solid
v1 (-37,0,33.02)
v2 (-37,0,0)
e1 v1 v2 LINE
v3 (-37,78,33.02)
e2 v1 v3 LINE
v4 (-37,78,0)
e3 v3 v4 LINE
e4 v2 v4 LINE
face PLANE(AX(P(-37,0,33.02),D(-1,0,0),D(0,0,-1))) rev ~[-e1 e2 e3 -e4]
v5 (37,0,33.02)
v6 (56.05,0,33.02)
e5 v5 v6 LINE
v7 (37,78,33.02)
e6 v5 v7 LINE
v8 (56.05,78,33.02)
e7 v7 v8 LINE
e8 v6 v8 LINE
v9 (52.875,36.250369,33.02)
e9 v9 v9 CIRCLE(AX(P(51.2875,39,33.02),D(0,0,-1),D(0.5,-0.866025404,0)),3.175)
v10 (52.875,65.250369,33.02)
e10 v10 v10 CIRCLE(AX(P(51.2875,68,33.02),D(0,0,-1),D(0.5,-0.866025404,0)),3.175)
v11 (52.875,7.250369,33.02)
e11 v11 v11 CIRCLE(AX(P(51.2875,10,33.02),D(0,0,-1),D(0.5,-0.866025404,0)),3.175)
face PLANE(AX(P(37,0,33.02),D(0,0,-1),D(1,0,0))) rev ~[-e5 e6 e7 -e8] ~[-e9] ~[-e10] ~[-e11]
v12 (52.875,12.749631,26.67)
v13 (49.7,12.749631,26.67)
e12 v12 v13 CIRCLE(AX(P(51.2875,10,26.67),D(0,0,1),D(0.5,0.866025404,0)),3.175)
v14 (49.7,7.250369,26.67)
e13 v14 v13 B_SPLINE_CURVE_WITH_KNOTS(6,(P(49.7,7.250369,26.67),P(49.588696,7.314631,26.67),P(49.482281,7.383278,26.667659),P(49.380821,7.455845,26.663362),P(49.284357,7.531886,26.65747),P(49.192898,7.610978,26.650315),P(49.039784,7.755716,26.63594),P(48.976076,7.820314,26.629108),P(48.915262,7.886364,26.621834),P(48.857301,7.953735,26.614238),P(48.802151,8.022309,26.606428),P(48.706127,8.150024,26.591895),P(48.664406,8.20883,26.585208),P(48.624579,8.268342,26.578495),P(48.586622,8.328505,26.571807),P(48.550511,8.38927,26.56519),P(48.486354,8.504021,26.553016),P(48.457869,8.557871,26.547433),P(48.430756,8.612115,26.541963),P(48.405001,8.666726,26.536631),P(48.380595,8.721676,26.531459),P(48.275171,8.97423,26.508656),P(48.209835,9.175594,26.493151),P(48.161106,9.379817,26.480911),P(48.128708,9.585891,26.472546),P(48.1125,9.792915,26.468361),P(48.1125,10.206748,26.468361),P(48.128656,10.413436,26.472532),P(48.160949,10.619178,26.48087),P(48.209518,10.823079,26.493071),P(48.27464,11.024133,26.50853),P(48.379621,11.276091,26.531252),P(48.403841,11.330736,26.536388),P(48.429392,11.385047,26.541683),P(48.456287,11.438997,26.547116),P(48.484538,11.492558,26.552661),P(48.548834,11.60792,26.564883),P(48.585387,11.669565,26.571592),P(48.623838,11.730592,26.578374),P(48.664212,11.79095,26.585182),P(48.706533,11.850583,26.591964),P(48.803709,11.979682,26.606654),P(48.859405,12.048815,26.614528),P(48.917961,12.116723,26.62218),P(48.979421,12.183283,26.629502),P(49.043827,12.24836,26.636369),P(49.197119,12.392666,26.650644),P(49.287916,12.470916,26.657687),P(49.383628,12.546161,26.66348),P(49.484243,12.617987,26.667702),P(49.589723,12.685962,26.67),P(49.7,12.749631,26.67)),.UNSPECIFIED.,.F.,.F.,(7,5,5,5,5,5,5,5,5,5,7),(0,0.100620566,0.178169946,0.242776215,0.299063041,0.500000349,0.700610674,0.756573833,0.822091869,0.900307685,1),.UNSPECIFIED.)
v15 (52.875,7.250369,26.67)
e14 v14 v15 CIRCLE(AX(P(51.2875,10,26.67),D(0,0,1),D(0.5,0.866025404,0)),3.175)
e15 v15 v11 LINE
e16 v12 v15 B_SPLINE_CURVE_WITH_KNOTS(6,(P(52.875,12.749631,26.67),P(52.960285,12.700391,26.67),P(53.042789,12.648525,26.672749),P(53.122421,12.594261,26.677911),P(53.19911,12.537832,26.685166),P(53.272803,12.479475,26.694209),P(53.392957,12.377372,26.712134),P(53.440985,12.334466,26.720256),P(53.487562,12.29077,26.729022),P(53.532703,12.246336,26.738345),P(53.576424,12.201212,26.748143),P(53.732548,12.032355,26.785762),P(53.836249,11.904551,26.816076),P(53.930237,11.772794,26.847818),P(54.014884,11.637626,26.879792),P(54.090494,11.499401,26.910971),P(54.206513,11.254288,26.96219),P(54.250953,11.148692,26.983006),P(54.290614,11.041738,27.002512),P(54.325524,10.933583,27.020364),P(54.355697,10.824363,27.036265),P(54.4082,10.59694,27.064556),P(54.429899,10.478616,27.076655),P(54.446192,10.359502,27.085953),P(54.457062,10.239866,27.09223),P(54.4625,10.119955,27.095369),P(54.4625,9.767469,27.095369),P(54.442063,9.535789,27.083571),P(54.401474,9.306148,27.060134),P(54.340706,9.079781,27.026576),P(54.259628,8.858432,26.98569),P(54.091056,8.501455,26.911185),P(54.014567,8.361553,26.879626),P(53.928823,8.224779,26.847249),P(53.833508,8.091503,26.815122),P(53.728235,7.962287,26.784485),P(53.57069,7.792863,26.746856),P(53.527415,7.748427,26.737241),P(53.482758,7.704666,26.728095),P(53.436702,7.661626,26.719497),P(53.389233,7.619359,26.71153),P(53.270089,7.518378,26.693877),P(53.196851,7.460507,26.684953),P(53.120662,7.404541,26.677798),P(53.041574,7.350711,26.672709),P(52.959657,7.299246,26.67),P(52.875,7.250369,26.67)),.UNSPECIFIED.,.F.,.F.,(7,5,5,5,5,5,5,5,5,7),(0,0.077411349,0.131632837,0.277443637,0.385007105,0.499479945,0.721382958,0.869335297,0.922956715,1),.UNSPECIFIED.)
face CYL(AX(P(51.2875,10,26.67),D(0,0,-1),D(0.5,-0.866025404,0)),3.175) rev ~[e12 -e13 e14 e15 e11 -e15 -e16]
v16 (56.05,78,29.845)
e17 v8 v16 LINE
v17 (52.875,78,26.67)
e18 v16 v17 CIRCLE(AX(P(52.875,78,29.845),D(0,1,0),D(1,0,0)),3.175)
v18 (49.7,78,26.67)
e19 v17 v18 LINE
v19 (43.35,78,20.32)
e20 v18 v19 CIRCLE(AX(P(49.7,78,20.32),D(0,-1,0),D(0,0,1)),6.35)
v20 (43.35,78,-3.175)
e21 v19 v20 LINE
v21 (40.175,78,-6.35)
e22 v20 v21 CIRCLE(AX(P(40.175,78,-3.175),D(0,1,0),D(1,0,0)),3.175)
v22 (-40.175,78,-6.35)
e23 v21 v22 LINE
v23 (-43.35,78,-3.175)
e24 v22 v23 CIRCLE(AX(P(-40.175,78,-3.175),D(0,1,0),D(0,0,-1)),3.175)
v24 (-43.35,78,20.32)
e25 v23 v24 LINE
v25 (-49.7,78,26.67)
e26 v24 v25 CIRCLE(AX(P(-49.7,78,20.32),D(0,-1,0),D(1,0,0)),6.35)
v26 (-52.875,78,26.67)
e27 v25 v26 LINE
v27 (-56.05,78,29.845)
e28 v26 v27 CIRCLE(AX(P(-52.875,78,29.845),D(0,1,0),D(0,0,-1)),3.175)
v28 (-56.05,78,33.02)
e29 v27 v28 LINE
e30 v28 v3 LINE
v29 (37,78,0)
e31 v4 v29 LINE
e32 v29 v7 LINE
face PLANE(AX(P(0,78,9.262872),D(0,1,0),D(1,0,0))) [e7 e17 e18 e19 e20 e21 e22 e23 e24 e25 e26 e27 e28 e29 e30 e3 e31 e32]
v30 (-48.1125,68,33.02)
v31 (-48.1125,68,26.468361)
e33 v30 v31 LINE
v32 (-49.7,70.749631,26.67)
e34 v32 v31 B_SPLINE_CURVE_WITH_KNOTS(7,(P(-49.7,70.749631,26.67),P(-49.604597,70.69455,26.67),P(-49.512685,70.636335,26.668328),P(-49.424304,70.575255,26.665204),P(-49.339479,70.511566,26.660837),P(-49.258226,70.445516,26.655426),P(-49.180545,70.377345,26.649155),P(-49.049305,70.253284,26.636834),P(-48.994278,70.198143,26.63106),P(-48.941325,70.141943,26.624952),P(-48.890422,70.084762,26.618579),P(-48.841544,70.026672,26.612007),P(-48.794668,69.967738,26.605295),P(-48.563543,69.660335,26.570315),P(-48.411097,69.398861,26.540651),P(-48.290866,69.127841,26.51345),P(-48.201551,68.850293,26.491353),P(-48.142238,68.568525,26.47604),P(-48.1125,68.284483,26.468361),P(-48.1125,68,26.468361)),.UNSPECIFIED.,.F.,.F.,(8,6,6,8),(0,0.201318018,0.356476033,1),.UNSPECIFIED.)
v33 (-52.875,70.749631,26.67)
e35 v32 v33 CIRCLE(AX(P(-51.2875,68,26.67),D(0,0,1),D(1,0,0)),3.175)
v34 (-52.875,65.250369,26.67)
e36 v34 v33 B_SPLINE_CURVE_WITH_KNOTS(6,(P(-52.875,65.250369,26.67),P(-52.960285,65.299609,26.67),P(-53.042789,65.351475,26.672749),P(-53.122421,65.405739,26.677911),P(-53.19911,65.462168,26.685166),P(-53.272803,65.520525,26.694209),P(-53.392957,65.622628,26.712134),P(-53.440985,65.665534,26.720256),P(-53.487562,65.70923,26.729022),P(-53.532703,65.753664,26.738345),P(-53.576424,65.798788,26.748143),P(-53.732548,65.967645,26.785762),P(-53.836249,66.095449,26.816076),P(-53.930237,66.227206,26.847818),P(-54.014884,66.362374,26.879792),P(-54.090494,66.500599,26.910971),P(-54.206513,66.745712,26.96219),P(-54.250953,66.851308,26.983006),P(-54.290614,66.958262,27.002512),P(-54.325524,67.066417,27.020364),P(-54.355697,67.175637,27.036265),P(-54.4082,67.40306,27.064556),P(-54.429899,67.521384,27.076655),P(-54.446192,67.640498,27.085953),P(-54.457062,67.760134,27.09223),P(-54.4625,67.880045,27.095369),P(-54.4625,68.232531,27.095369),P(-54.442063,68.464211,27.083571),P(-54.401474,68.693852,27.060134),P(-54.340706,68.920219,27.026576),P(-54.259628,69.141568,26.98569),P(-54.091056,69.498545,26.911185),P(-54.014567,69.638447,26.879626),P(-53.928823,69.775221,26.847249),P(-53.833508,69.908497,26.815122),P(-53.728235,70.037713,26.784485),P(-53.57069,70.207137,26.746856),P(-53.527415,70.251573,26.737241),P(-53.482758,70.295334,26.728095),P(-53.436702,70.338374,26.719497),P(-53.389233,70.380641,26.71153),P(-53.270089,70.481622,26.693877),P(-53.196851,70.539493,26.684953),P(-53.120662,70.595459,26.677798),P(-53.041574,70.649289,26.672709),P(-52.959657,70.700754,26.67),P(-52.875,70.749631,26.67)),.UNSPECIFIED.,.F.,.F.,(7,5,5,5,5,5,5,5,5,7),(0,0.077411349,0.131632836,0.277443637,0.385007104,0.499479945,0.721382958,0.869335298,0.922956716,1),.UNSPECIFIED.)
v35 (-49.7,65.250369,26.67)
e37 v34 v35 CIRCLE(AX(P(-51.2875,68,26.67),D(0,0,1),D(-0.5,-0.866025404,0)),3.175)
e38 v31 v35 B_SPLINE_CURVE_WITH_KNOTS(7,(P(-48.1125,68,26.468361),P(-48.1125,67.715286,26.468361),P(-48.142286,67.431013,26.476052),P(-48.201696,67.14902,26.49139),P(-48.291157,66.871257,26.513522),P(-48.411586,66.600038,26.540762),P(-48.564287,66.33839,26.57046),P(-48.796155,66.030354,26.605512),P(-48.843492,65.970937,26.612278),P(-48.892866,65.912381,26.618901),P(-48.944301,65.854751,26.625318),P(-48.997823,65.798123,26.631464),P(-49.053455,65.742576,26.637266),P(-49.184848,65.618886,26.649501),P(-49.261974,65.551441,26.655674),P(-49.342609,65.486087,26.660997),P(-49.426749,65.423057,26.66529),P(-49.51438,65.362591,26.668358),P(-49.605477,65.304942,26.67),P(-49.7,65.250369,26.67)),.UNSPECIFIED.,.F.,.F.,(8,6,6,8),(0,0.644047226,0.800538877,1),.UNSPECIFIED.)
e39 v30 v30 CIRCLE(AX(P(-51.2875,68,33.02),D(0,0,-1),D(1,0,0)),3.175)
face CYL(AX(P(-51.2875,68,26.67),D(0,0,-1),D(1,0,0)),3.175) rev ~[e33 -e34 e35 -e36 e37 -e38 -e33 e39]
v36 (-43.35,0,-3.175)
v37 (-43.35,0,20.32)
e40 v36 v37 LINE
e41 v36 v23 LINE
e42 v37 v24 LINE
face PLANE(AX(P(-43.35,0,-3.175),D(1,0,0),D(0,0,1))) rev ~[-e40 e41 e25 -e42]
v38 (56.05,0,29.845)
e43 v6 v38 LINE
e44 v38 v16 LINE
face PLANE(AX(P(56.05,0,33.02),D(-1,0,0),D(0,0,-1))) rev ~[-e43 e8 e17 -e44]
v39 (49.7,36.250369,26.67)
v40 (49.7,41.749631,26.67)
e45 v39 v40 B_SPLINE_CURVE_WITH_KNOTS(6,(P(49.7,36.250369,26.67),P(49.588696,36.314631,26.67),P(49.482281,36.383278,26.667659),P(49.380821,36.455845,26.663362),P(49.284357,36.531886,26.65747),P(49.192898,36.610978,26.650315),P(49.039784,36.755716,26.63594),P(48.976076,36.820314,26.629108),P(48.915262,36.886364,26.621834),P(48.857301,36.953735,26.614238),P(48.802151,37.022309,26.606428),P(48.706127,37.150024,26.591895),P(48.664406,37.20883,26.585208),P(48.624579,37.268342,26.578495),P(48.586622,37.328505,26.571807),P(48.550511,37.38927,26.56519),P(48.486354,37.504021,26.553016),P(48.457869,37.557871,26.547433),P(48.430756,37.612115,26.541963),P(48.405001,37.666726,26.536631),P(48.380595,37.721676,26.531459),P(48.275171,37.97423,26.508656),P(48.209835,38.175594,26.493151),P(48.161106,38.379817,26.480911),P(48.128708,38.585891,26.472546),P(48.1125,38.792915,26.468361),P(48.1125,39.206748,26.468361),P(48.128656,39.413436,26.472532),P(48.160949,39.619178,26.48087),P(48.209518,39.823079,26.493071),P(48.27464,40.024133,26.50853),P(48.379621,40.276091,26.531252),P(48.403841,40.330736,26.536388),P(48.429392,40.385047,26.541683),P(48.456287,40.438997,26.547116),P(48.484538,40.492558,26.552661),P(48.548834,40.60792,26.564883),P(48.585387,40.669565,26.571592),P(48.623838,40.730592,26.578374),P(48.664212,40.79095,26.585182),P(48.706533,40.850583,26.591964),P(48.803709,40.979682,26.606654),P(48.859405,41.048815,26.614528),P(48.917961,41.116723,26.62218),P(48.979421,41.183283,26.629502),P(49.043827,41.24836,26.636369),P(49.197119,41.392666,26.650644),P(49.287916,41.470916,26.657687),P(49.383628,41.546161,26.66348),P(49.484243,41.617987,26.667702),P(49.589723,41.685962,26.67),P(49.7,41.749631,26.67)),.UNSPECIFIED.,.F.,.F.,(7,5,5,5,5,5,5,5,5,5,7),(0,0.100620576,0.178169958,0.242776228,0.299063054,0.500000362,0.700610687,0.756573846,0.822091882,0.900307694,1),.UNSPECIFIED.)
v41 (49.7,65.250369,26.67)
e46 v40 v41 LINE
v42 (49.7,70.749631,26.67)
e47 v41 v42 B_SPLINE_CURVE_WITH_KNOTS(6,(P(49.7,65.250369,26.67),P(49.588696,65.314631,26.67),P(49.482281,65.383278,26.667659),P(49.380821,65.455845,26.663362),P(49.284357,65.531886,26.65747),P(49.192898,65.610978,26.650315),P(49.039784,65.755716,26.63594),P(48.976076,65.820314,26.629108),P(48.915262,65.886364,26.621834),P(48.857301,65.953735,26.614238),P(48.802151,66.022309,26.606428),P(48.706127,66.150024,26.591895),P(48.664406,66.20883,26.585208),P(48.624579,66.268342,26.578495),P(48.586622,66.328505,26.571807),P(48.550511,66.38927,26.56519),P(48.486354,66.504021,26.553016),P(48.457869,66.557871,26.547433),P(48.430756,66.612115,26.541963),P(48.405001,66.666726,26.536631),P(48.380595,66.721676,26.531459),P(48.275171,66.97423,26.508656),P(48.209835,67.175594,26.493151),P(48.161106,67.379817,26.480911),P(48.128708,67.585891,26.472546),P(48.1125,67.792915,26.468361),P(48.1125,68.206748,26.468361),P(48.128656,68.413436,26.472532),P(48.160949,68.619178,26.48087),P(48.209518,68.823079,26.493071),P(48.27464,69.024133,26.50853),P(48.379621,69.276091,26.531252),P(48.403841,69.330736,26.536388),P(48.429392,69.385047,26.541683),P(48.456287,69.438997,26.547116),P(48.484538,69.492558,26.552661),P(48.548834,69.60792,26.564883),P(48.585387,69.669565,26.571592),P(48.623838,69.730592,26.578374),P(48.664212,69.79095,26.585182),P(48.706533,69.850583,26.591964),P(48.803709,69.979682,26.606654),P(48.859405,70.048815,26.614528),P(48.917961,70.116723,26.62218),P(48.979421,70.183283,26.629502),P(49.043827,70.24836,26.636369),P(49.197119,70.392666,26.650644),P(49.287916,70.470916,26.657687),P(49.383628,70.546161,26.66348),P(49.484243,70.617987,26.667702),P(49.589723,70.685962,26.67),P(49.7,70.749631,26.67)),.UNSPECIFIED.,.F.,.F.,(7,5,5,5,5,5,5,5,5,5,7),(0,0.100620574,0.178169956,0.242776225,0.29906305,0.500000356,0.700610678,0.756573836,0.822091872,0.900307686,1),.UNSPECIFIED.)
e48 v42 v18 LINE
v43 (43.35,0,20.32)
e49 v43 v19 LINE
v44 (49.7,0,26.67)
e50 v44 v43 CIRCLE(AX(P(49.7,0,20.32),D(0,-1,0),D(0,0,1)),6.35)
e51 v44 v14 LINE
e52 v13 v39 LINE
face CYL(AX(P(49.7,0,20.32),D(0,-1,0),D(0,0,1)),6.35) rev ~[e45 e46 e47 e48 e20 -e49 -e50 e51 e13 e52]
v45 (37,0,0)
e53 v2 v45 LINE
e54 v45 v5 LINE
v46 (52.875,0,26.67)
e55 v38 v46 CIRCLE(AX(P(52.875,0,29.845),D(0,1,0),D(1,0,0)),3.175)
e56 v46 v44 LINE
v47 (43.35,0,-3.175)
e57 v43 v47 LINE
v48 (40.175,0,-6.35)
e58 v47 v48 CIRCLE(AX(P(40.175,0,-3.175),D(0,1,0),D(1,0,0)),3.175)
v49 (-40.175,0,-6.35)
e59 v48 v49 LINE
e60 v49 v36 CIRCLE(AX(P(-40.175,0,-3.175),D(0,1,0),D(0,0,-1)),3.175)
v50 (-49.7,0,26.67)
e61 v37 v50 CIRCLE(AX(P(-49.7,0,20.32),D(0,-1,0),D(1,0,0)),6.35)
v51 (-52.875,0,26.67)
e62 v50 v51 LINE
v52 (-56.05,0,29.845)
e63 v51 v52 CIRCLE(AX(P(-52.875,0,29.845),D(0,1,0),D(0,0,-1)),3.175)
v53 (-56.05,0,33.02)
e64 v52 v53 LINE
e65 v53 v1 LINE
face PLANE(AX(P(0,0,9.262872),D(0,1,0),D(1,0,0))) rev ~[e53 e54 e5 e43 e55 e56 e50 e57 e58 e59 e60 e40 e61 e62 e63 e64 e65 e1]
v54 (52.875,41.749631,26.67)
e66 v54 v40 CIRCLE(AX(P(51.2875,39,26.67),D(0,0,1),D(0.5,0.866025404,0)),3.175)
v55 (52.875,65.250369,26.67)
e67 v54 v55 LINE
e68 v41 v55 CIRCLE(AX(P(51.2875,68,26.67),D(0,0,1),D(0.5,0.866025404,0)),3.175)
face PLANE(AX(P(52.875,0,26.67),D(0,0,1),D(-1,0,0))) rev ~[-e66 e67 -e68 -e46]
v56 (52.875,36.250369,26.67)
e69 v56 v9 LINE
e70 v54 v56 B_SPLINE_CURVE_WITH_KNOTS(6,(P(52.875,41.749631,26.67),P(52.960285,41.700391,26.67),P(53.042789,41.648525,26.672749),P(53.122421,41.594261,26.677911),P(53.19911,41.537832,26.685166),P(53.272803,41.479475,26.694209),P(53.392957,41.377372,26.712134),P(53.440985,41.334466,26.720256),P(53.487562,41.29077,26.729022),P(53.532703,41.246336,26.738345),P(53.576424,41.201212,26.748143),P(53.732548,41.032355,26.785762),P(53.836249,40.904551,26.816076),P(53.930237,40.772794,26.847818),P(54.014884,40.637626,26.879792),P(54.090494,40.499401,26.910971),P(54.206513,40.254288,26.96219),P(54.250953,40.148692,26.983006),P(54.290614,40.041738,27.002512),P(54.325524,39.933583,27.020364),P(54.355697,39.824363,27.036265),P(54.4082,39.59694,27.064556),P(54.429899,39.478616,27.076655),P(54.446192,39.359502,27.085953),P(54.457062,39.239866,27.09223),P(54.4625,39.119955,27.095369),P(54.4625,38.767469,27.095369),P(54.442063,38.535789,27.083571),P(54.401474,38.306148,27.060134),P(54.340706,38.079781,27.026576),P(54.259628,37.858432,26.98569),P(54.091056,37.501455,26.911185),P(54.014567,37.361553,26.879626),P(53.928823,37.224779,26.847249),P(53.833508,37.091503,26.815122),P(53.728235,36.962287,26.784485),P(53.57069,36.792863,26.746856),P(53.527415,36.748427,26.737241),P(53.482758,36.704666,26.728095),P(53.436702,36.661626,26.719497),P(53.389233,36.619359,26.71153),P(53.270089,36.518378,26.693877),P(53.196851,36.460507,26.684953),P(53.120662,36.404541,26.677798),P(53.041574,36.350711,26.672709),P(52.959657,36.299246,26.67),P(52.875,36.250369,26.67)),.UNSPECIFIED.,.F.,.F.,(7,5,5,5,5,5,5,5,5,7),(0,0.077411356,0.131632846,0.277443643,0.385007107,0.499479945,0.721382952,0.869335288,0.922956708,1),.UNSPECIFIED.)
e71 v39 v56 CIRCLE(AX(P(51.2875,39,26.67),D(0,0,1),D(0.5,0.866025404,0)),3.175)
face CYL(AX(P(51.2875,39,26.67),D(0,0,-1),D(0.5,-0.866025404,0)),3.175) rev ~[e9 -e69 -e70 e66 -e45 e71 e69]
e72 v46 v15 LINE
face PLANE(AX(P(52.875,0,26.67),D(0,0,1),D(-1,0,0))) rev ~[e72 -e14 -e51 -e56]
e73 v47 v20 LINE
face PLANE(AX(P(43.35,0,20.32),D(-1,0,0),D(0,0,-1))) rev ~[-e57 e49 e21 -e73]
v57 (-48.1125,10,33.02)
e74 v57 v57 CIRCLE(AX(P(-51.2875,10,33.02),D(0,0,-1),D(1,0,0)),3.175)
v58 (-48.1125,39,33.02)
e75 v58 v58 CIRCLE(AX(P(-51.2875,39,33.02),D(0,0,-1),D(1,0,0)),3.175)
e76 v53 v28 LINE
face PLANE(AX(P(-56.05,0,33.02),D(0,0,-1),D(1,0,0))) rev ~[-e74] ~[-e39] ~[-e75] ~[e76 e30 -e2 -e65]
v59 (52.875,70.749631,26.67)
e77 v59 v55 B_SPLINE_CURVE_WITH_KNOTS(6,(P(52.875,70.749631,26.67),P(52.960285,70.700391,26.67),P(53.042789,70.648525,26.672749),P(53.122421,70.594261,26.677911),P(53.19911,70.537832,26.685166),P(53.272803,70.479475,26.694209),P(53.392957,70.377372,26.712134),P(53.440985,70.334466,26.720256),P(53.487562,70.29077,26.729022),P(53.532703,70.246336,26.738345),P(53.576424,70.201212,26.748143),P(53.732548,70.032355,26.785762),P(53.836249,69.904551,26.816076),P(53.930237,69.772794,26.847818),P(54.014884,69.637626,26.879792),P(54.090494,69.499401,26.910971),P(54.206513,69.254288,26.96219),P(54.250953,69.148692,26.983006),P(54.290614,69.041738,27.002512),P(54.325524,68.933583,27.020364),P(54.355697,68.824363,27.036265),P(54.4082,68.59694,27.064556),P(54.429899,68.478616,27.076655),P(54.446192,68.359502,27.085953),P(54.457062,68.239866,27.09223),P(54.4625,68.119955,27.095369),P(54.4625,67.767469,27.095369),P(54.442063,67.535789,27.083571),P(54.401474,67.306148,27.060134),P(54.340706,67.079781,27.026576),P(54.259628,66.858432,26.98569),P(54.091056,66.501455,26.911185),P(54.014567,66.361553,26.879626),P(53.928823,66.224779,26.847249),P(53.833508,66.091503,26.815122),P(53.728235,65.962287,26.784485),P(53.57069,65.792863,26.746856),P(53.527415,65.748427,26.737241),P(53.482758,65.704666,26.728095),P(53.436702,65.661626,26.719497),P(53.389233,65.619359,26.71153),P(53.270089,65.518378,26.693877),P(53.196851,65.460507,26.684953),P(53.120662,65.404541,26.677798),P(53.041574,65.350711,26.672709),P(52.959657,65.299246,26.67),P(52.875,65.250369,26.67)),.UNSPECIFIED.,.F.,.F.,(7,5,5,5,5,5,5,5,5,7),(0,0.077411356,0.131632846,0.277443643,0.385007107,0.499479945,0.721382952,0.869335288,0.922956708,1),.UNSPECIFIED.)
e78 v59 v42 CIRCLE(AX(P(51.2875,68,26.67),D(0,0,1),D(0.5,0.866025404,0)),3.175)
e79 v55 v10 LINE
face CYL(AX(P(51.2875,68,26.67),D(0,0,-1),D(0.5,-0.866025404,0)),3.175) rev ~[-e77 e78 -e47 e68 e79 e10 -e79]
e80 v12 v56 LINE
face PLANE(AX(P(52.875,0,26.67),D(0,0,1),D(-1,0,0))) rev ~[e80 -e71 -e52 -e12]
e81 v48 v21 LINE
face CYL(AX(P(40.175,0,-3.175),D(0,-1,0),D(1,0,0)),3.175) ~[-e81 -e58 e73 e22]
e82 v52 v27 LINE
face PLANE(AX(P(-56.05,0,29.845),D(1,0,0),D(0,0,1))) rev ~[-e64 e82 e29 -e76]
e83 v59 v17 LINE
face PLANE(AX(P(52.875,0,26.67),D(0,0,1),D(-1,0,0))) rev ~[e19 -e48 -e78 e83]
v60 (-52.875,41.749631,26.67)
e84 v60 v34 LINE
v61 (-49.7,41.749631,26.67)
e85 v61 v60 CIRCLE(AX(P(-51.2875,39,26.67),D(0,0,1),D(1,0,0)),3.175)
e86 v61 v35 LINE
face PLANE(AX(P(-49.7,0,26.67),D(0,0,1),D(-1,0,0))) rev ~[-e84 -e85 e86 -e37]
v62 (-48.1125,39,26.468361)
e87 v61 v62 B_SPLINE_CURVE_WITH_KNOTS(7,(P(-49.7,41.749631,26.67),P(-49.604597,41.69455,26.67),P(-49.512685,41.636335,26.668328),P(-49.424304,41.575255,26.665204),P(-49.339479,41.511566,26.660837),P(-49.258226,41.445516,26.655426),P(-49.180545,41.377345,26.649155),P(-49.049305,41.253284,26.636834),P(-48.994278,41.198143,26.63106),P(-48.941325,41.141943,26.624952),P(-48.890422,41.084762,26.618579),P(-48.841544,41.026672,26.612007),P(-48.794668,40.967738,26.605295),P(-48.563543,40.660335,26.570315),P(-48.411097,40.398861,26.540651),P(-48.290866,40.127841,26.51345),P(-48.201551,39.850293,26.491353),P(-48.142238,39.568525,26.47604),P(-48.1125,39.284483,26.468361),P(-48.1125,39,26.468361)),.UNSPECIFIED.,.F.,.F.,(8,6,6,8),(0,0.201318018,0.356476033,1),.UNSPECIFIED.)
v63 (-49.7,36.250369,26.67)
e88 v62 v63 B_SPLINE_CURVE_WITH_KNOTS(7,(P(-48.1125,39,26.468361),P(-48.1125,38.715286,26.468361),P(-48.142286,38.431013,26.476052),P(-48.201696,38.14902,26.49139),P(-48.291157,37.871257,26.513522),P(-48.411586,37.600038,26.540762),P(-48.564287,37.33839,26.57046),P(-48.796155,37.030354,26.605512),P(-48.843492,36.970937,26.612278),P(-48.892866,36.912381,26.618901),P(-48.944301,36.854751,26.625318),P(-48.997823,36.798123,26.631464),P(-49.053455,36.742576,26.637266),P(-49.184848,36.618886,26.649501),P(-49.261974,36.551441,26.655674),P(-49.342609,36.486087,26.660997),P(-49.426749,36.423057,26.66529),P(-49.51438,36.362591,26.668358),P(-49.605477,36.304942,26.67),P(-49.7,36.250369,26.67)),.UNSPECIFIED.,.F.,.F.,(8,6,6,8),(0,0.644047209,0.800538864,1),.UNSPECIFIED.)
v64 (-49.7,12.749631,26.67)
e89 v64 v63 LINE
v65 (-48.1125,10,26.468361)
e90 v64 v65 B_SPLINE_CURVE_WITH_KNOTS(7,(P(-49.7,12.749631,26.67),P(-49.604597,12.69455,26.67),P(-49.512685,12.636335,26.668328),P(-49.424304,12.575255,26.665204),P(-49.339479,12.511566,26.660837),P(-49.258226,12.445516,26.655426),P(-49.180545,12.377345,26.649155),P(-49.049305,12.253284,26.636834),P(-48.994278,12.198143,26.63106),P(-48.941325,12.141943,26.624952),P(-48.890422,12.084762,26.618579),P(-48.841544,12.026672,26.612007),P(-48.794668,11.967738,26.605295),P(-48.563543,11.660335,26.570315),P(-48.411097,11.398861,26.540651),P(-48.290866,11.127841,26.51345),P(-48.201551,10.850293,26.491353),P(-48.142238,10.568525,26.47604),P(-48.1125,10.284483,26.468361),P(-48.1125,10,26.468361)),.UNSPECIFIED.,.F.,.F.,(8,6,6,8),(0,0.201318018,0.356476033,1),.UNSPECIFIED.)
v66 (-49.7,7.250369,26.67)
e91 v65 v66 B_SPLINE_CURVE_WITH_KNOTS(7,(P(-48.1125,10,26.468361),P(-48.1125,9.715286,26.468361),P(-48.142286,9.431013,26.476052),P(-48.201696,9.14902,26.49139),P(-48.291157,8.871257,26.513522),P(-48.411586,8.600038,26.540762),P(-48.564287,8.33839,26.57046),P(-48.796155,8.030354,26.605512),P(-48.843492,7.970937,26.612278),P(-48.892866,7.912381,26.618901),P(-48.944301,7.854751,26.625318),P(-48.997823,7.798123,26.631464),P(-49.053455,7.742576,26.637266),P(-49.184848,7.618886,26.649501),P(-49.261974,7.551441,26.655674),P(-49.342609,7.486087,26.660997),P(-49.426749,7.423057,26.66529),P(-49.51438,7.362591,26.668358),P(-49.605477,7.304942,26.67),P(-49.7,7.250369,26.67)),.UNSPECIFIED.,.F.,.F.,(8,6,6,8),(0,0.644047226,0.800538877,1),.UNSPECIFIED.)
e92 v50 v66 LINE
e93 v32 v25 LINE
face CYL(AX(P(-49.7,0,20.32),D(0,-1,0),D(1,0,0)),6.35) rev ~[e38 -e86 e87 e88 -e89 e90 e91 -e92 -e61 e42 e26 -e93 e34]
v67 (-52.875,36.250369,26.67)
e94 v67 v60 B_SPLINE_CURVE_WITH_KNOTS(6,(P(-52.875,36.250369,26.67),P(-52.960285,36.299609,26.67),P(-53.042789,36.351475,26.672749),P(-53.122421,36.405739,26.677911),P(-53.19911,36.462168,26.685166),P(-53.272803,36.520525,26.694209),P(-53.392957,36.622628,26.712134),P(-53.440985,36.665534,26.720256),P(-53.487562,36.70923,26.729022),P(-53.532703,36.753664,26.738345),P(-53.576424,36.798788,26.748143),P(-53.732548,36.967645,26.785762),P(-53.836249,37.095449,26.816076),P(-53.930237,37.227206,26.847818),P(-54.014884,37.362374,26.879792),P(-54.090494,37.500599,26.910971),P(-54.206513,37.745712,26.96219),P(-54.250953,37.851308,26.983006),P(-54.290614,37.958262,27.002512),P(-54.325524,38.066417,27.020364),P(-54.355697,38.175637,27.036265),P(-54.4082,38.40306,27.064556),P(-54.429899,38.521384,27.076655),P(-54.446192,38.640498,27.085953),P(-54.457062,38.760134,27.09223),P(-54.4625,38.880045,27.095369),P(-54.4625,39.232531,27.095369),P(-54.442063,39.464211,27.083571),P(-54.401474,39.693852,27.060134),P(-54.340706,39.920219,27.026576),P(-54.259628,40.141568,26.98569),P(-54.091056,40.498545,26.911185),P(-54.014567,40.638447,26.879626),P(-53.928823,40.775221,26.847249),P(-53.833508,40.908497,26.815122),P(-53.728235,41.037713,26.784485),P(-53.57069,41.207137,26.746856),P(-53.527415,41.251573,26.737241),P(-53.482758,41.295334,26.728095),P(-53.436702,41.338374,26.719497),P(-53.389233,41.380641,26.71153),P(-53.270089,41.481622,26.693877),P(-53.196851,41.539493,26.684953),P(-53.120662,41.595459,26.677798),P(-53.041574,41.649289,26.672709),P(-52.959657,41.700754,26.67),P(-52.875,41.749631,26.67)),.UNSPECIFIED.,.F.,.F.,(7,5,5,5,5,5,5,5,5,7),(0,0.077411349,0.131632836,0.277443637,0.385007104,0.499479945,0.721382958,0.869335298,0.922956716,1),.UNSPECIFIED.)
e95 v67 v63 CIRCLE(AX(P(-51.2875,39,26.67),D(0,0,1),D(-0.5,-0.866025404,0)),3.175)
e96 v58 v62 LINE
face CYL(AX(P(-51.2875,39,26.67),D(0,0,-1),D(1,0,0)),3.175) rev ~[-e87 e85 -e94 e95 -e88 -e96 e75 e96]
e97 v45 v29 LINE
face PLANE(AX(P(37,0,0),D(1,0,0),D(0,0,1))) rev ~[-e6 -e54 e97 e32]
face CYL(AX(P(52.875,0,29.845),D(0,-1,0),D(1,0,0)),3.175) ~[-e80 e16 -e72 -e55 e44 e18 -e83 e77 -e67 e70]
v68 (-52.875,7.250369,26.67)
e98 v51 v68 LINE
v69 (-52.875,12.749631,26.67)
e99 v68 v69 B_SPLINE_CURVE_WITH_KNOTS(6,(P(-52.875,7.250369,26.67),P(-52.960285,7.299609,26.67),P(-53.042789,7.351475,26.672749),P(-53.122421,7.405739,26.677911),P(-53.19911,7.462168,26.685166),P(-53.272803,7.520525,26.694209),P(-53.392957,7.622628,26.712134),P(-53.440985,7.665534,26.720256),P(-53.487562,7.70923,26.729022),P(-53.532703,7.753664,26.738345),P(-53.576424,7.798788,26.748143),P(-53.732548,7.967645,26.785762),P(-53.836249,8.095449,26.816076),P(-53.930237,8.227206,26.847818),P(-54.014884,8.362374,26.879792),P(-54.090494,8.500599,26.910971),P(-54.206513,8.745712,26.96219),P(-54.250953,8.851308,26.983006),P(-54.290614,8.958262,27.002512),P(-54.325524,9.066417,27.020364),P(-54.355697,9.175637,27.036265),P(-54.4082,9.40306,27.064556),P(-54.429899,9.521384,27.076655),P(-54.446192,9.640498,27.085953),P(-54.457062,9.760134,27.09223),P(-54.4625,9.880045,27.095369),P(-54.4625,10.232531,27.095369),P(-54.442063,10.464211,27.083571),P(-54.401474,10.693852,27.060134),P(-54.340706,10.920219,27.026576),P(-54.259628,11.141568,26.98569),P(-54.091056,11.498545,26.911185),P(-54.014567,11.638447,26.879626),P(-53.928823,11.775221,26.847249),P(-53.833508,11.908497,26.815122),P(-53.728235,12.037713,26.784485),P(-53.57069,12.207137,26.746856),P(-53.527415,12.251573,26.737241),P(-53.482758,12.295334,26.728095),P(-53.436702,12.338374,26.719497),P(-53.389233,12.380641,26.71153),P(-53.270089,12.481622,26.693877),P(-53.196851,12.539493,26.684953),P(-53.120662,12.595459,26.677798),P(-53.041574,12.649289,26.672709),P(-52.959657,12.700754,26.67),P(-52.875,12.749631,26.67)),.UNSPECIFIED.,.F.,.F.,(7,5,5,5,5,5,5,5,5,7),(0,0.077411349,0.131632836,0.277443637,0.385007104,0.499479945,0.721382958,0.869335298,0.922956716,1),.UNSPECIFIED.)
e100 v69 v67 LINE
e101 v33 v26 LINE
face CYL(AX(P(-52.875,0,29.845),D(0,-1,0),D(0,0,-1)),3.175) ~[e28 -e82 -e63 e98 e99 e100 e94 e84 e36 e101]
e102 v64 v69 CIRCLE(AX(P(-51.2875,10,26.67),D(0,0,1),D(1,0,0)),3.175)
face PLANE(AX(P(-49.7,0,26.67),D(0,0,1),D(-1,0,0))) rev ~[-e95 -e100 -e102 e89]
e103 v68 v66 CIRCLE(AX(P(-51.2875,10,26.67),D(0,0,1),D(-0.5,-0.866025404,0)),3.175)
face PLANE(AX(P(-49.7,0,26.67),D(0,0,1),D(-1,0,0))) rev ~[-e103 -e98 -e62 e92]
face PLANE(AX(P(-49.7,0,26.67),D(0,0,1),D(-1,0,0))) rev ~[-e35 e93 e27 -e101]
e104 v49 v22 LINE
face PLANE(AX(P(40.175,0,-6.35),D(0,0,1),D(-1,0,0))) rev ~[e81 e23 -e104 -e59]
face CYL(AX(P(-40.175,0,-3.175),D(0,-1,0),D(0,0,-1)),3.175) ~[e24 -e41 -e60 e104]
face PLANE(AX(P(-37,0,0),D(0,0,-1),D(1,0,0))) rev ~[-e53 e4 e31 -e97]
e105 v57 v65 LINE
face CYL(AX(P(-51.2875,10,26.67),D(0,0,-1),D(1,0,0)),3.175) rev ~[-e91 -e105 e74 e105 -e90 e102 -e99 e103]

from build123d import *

# Parameters (mm, degrees)
BOSS_EXTRUDE1_DEPTH            = 78
CUT_EXTRUDE1_REACH             = 103.567
SKETCH2_R                      = 3.175
CUT_EXTRUDE1_DIRECTION_2_REACH = 103.567


with BuildPart() as part:
    # Sketch1 → Boss-Extrude1 (new body)
    with BuildSketch(Plane(origin=(0, 0, 0), x_dir=(1, 0, 0), z_dir=(0, 1, 0))):
        with BuildLine():
            Line((-37, -33.02), (-37, 0))
            Line((-37, 0), (37, 0))
            Line((37, 0), (37, -33.02))
            Line((37, -33.02), (56.05, -33.02))
            Line((56.05, -33.02), (56.05, -29.845))
            ThreePointArc((56.05, -29.845), (55.12006403, -27.59993597), (52.875, -26.67))
            Line((52.875, -26.67), (49.7, -26.67))
            ThreePointArc((49.7, -26.67), (45.209871939, -24.810128061), (43.35, -20.32))
            Line((43.35, -20.32), (43.35, 0))
            Line((43.35, 0), (43.35, 3.175))
            ThreePointArc((43.35, 3.175), (42.42006403, 5.42006403), (40.175, 6.35))
            Line((40.175, 6.35), (-40.175, 6.35))
            ThreePointArc((-40.175, 6.35), (-42.42006403, 5.42006403), (-43.35, 3.175))
            Line((-43.35, 3.175), (-43.35, 0))
            Line((-43.35, 0), (-43.35, -20.32))
            ThreePointArc((-43.35, -20.32), (-45.209871939, -24.810128061), (-49.7, -26.67))
            Line((-49.7, -26.67), (-52.875, -26.67))
            ThreePointArc((-52.875, -26.67), (-55.12006403, -27.59993597), (-56.05, -29.845))
            Line((-56.05, -29.845), (-56.05, -33.02))
            Line((-56.05, -33.02), (-37, -33.02))
        make_face()
    extrude(amount=BOSS_EXTRUDE1_DEPTH)

    # Sketch2 → Cut-Extrude1 (cut, up to next)
    with BuildSketch(Plane(origin=(0, 0, 26.67), x_dir=(-1, 0, 0), z_dir=(0, 0, -1)), mode=Mode.PRIVATE) as cut_extrude1_sk1:
        with Locations(Location((-51.2875, 10, 0), (0, 0, 240))):
            Circle(SKETCH2_R)
    cut_extrude1_tool1 = extrude(cut_extrude1_sk1.sketch, amount=-CUT_EXTRUDE1_REACH, mode=Mode.PRIVATE) & part.part
    # Sketch2 → Cut-Extrude1 (cut, up to next)
    with BuildSketch(Plane(origin=(0, 0, 26.67), x_dir=(-1, 0, 0), z_dir=(0, 0, -1)), mode=Mode.PRIVATE) as cut_extrude1_sk2:
        with Locations(Location((-51.2875, 39, 0), (0, 0, 240))):
            Circle(SKETCH2_R)
    cut_extrude1_tool2 = extrude(cut_extrude1_sk2.sketch, amount=-CUT_EXTRUDE1_REACH, mode=Mode.PRIVATE) & part.part
    # Sketch2 → Cut-Extrude1 (cut, up to next)
    with BuildSketch(Plane(origin=(0, 0, 26.67), x_dir=(-1, 0, 0), z_dir=(0, 0, -1)), mode=Mode.PRIVATE) as cut_extrude1_sk3:
        with Locations(Location((-51.2875, 68, 0), (0, 0, 240))):
            Circle(SKETCH2_R)
    cut_extrude1_tool3 = extrude(cut_extrude1_sk3.sketch, amount=-CUT_EXTRUDE1_REACH, mode=Mode.PRIVATE) & part.part
    # Sketch2 → Cut-Extrude1 (cut, up to next)
    with BuildSketch(Plane(origin=(0, 0, 26.67), x_dir=(-1, 0, 0), z_dir=(0, 0, -1)), mode=Mode.PRIVATE) as cut_extrude1_sk4:
        with Locations(Location((51.2875, 68, 0), (0, 0, 180))):
            Circle(SKETCH2_R)
    cut_extrude1_tool4 = extrude(cut_extrude1_sk4.sketch, amount=-CUT_EXTRUDE1_REACH, mode=Mode.PRIVATE) & part.part
    # Sketch2 → Cut-Extrude1 (cut, up to next)
    with BuildSketch(Plane(origin=(0, 0, 26.67), x_dir=(-1, 0, 0), z_dir=(0, 0, -1)), mode=Mode.PRIVATE) as cut_extrude1_sk5:
        with Locations(Location((51.2875, 39, 0), (0, 0, 180))):
            Circle(SKETCH2_R)
    cut_extrude1_tool5 = extrude(cut_extrude1_sk5.sketch, amount=-CUT_EXTRUDE1_REACH, mode=Mode.PRIVATE) & part.part
    # Sketch2 → Cut-Extrude1 (cut, up to next)
    with BuildSketch(Plane(origin=(0, 0, 26.67), x_dir=(-1, 0, 0), z_dir=(0, 0, -1)), mode=Mode.PRIVATE) as cut_extrude1_sk6:
        with Locations(Location((51.2875, 10, 0), (0, 0, 180))):
            Circle(SKETCH2_R)
    cut_extrude1_tool6 = extrude(cut_extrude1_sk6.sketch, amount=-CUT_EXTRUDE1_REACH, mode=Mode.PRIVATE) & part.part
    add(cut_extrude1_tool1.solids().sort_by_distance((51.2875, 10, 26.67))[0], mode=Mode.SUBTRACT)
    add(cut_extrude1_tool2.solids().sort_by_distance((51.2875, 39, 26.67))[0], mode=Mode.SUBTRACT)
    add(cut_extrude1_tool3.solids().sort_by_distance((51.2875, 68, 26.67))[0], mode=Mode.SUBTRACT)
    add(cut_extrude1_tool4.solids().sort_by_distance((-51.2875, 68, 26.67))[0], mode=Mode.SUBTRACT)
    add(cut_extrude1_tool5.solids().sort_by_distance((-51.2875, 39, 26.67))[0], mode=Mode.SUBTRACT)
    add(cut_extrude1_tool6.solids().sort_by_distance((-51.2875, 10, 26.67))[0], mode=Mode.SUBTRACT)

    # Cut-Extrude1 direction 2: up to this face of the body (flat: up to its plane)
    cut_extrude1_direction_2_end = Plane(part.part.faces().sort_by_distance((0, 39, -6.35))[0])
    # Sketch2 → Cut-Extrude1 direction 2 (cut, up to the picked face)
    with BuildSketch(Plane(origin=(0, 0, 26.67), x_dir=(-1, 0, 0), z_dir=(0, 0, -1)), mode=Mode.PRIVATE) as cut_extrude1_direction_2_sk1:
        with Locations(Location((-51.2875, 10, 0), (0, 0, 240))):
            Circle(SKETCH2_R)
    cut_extrude1_direction_2_tool1 = split(extrude(cut_extrude1_direction_2_sk1.sketch, amount=CUT_EXTRUDE1_DIRECTION_2_REACH, mode=Mode.PRIVATE), bisect_by=cut_extrude1_direction_2_end, keep=Keep.BOTH, mode=Mode.PRIVATE)
    # Sketch2 → Cut-Extrude1 direction 2 (cut, up to the picked face)
    with BuildSketch(Plane(origin=(0, 0, 26.67), x_dir=(-1, 0, 0), z_dir=(0, 0, -1)), mode=Mode.PRIVATE) as cut_extrude1_direction_2_sk2:
        with Locations(Location((-51.2875, 39, 0), (0, 0, 240))):
            Circle(SKETCH2_R)
    cut_extrude1_direction_2_tool2 = split(extrude(cut_extrude1_direction_2_sk2.sketch, amount=CUT_EXTRUDE1_DIRECTION_2_REACH, mode=Mode.PRIVATE), bisect_by=cut_extrude1_direction_2_end, keep=Keep.BOTH, mode=Mode.PRIVATE)
    # Sketch2 → Cut-Extrude1 direction 2 (cut, up to the picked face)
    with BuildSketch(Plane(origin=(0, 0, 26.67), x_dir=(-1, 0, 0), z_dir=(0, 0, -1)), mode=Mode.PRIVATE) as cut_extrude1_direction_2_sk3:
        with Locations(Location((-51.2875, 68, 0), (0, 0, 240))):
            Circle(SKETCH2_R)
    cut_extrude1_direction_2_tool3 = split(extrude(cut_extrude1_direction_2_sk3.sketch, amount=CUT_EXTRUDE1_DIRECTION_2_REACH, mode=Mode.PRIVATE), bisect_by=cut_extrude1_direction_2_end, keep=Keep.BOTH, mode=Mode.PRIVATE)
    # Sketch2 → Cut-Extrude1 direction 2 (cut, up to the picked face)
    with BuildSketch(Plane(origin=(0, 0, 26.67), x_dir=(-1, 0, 0), z_dir=(0, 0, -1)), mode=Mode.PRIVATE) as cut_extrude1_direction_2_sk4:
        with Locations(Location((51.2875, 68, 0), (0, 0, 180))):
            Circle(SKETCH2_R)
    cut_extrude1_direction_2_tool4 = split(extrude(cut_extrude1_direction_2_sk4.sketch, amount=CUT_EXTRUDE1_DIRECTION_2_REACH, mode=Mode.PRIVATE), bisect_by=cut_extrude1_direction_2_end, keep=Keep.BOTH, mode=Mode.PRIVATE)
    # Sketch2 → Cut-Extrude1 direction 2 (cut, up to the picked face)
    with BuildSketch(Plane(origin=(0, 0, 26.67), x_dir=(-1, 0, 0), z_dir=(0, 0, -1)), mode=Mode.PRIVATE) as cut_extrude1_direction_2_sk5:
        with Locations(Location((51.2875, 39, 0), (0, 0, 180))):
            Circle(SKETCH2_R)
    cut_extrude1_direction_2_tool5 = split(extrude(cut_extrude1_direction_2_sk5.sketch, amount=CUT_EXTRUDE1_DIRECTION_2_REACH, mode=Mode.PRIVATE), bisect_by=cut_extrude1_direction_2_end, keep=Keep.BOTH, mode=Mode.PRIVATE)
    # Sketch2 → Cut-Extrude1 direction 2 (cut, up to the picked face)
    with BuildSketch(Plane(origin=(0, 0, 26.67), x_dir=(-1, 0, 0), z_dir=(0, 0, -1)), mode=Mode.PRIVATE) as cut_extrude1_direction_2_sk6:
        with Locations(Location((51.2875, 10, 0), (0, 0, 180))):
            Circle(SKETCH2_R)
    cut_extrude1_direction_2_tool6 = split(extrude(cut_extrude1_direction_2_sk6.sketch, amount=CUT_EXTRUDE1_DIRECTION_2_REACH, mode=Mode.PRIVATE), bisect_by=cut_extrude1_direction_2_end, keep=Keep.BOTH, mode=Mode.PRIVATE)
    add(cut_extrude1_direction_2_tool1.solids().sort_by(Axis((51.2875, 10, 26.67), (0, 0, -1)))[0], mode=Mode.SUBTRACT)
    add(cut_extrude1_direction_2_tool2.solids().sort_by(Axis((51.2875, 39, 26.67), (0, 0, -1)))[0], mode=Mode.SUBTRACT)
    add(cut_extrude1_direction_2_tool3.solids().sort_by(Axis((51.2875, 68, 26.67), (0, 0, -1)))[0], mode=Mode.SUBTRACT)
    add(cut_extrude1_direction_2_tool4.solids().sort_by(Axis((-51.2875, 68, 26.67), (0, 0, -1)))[0], mode=Mode.SUBTRACT)
    add(cut_extrude1_direction_2_tool5.solids().sort_by(Axis((-51.2875, 39, 26.67), (0, 0, -1)))[0], mode=Mode.SUBTRACT)
    add(cut_extrude1_direction_2_tool6.solids().sort_by(Axis((-51.2875, 10, 26.67), (0, 0, -1)))[0], mode=Mode.SUBTRACT)


solid = part.part
